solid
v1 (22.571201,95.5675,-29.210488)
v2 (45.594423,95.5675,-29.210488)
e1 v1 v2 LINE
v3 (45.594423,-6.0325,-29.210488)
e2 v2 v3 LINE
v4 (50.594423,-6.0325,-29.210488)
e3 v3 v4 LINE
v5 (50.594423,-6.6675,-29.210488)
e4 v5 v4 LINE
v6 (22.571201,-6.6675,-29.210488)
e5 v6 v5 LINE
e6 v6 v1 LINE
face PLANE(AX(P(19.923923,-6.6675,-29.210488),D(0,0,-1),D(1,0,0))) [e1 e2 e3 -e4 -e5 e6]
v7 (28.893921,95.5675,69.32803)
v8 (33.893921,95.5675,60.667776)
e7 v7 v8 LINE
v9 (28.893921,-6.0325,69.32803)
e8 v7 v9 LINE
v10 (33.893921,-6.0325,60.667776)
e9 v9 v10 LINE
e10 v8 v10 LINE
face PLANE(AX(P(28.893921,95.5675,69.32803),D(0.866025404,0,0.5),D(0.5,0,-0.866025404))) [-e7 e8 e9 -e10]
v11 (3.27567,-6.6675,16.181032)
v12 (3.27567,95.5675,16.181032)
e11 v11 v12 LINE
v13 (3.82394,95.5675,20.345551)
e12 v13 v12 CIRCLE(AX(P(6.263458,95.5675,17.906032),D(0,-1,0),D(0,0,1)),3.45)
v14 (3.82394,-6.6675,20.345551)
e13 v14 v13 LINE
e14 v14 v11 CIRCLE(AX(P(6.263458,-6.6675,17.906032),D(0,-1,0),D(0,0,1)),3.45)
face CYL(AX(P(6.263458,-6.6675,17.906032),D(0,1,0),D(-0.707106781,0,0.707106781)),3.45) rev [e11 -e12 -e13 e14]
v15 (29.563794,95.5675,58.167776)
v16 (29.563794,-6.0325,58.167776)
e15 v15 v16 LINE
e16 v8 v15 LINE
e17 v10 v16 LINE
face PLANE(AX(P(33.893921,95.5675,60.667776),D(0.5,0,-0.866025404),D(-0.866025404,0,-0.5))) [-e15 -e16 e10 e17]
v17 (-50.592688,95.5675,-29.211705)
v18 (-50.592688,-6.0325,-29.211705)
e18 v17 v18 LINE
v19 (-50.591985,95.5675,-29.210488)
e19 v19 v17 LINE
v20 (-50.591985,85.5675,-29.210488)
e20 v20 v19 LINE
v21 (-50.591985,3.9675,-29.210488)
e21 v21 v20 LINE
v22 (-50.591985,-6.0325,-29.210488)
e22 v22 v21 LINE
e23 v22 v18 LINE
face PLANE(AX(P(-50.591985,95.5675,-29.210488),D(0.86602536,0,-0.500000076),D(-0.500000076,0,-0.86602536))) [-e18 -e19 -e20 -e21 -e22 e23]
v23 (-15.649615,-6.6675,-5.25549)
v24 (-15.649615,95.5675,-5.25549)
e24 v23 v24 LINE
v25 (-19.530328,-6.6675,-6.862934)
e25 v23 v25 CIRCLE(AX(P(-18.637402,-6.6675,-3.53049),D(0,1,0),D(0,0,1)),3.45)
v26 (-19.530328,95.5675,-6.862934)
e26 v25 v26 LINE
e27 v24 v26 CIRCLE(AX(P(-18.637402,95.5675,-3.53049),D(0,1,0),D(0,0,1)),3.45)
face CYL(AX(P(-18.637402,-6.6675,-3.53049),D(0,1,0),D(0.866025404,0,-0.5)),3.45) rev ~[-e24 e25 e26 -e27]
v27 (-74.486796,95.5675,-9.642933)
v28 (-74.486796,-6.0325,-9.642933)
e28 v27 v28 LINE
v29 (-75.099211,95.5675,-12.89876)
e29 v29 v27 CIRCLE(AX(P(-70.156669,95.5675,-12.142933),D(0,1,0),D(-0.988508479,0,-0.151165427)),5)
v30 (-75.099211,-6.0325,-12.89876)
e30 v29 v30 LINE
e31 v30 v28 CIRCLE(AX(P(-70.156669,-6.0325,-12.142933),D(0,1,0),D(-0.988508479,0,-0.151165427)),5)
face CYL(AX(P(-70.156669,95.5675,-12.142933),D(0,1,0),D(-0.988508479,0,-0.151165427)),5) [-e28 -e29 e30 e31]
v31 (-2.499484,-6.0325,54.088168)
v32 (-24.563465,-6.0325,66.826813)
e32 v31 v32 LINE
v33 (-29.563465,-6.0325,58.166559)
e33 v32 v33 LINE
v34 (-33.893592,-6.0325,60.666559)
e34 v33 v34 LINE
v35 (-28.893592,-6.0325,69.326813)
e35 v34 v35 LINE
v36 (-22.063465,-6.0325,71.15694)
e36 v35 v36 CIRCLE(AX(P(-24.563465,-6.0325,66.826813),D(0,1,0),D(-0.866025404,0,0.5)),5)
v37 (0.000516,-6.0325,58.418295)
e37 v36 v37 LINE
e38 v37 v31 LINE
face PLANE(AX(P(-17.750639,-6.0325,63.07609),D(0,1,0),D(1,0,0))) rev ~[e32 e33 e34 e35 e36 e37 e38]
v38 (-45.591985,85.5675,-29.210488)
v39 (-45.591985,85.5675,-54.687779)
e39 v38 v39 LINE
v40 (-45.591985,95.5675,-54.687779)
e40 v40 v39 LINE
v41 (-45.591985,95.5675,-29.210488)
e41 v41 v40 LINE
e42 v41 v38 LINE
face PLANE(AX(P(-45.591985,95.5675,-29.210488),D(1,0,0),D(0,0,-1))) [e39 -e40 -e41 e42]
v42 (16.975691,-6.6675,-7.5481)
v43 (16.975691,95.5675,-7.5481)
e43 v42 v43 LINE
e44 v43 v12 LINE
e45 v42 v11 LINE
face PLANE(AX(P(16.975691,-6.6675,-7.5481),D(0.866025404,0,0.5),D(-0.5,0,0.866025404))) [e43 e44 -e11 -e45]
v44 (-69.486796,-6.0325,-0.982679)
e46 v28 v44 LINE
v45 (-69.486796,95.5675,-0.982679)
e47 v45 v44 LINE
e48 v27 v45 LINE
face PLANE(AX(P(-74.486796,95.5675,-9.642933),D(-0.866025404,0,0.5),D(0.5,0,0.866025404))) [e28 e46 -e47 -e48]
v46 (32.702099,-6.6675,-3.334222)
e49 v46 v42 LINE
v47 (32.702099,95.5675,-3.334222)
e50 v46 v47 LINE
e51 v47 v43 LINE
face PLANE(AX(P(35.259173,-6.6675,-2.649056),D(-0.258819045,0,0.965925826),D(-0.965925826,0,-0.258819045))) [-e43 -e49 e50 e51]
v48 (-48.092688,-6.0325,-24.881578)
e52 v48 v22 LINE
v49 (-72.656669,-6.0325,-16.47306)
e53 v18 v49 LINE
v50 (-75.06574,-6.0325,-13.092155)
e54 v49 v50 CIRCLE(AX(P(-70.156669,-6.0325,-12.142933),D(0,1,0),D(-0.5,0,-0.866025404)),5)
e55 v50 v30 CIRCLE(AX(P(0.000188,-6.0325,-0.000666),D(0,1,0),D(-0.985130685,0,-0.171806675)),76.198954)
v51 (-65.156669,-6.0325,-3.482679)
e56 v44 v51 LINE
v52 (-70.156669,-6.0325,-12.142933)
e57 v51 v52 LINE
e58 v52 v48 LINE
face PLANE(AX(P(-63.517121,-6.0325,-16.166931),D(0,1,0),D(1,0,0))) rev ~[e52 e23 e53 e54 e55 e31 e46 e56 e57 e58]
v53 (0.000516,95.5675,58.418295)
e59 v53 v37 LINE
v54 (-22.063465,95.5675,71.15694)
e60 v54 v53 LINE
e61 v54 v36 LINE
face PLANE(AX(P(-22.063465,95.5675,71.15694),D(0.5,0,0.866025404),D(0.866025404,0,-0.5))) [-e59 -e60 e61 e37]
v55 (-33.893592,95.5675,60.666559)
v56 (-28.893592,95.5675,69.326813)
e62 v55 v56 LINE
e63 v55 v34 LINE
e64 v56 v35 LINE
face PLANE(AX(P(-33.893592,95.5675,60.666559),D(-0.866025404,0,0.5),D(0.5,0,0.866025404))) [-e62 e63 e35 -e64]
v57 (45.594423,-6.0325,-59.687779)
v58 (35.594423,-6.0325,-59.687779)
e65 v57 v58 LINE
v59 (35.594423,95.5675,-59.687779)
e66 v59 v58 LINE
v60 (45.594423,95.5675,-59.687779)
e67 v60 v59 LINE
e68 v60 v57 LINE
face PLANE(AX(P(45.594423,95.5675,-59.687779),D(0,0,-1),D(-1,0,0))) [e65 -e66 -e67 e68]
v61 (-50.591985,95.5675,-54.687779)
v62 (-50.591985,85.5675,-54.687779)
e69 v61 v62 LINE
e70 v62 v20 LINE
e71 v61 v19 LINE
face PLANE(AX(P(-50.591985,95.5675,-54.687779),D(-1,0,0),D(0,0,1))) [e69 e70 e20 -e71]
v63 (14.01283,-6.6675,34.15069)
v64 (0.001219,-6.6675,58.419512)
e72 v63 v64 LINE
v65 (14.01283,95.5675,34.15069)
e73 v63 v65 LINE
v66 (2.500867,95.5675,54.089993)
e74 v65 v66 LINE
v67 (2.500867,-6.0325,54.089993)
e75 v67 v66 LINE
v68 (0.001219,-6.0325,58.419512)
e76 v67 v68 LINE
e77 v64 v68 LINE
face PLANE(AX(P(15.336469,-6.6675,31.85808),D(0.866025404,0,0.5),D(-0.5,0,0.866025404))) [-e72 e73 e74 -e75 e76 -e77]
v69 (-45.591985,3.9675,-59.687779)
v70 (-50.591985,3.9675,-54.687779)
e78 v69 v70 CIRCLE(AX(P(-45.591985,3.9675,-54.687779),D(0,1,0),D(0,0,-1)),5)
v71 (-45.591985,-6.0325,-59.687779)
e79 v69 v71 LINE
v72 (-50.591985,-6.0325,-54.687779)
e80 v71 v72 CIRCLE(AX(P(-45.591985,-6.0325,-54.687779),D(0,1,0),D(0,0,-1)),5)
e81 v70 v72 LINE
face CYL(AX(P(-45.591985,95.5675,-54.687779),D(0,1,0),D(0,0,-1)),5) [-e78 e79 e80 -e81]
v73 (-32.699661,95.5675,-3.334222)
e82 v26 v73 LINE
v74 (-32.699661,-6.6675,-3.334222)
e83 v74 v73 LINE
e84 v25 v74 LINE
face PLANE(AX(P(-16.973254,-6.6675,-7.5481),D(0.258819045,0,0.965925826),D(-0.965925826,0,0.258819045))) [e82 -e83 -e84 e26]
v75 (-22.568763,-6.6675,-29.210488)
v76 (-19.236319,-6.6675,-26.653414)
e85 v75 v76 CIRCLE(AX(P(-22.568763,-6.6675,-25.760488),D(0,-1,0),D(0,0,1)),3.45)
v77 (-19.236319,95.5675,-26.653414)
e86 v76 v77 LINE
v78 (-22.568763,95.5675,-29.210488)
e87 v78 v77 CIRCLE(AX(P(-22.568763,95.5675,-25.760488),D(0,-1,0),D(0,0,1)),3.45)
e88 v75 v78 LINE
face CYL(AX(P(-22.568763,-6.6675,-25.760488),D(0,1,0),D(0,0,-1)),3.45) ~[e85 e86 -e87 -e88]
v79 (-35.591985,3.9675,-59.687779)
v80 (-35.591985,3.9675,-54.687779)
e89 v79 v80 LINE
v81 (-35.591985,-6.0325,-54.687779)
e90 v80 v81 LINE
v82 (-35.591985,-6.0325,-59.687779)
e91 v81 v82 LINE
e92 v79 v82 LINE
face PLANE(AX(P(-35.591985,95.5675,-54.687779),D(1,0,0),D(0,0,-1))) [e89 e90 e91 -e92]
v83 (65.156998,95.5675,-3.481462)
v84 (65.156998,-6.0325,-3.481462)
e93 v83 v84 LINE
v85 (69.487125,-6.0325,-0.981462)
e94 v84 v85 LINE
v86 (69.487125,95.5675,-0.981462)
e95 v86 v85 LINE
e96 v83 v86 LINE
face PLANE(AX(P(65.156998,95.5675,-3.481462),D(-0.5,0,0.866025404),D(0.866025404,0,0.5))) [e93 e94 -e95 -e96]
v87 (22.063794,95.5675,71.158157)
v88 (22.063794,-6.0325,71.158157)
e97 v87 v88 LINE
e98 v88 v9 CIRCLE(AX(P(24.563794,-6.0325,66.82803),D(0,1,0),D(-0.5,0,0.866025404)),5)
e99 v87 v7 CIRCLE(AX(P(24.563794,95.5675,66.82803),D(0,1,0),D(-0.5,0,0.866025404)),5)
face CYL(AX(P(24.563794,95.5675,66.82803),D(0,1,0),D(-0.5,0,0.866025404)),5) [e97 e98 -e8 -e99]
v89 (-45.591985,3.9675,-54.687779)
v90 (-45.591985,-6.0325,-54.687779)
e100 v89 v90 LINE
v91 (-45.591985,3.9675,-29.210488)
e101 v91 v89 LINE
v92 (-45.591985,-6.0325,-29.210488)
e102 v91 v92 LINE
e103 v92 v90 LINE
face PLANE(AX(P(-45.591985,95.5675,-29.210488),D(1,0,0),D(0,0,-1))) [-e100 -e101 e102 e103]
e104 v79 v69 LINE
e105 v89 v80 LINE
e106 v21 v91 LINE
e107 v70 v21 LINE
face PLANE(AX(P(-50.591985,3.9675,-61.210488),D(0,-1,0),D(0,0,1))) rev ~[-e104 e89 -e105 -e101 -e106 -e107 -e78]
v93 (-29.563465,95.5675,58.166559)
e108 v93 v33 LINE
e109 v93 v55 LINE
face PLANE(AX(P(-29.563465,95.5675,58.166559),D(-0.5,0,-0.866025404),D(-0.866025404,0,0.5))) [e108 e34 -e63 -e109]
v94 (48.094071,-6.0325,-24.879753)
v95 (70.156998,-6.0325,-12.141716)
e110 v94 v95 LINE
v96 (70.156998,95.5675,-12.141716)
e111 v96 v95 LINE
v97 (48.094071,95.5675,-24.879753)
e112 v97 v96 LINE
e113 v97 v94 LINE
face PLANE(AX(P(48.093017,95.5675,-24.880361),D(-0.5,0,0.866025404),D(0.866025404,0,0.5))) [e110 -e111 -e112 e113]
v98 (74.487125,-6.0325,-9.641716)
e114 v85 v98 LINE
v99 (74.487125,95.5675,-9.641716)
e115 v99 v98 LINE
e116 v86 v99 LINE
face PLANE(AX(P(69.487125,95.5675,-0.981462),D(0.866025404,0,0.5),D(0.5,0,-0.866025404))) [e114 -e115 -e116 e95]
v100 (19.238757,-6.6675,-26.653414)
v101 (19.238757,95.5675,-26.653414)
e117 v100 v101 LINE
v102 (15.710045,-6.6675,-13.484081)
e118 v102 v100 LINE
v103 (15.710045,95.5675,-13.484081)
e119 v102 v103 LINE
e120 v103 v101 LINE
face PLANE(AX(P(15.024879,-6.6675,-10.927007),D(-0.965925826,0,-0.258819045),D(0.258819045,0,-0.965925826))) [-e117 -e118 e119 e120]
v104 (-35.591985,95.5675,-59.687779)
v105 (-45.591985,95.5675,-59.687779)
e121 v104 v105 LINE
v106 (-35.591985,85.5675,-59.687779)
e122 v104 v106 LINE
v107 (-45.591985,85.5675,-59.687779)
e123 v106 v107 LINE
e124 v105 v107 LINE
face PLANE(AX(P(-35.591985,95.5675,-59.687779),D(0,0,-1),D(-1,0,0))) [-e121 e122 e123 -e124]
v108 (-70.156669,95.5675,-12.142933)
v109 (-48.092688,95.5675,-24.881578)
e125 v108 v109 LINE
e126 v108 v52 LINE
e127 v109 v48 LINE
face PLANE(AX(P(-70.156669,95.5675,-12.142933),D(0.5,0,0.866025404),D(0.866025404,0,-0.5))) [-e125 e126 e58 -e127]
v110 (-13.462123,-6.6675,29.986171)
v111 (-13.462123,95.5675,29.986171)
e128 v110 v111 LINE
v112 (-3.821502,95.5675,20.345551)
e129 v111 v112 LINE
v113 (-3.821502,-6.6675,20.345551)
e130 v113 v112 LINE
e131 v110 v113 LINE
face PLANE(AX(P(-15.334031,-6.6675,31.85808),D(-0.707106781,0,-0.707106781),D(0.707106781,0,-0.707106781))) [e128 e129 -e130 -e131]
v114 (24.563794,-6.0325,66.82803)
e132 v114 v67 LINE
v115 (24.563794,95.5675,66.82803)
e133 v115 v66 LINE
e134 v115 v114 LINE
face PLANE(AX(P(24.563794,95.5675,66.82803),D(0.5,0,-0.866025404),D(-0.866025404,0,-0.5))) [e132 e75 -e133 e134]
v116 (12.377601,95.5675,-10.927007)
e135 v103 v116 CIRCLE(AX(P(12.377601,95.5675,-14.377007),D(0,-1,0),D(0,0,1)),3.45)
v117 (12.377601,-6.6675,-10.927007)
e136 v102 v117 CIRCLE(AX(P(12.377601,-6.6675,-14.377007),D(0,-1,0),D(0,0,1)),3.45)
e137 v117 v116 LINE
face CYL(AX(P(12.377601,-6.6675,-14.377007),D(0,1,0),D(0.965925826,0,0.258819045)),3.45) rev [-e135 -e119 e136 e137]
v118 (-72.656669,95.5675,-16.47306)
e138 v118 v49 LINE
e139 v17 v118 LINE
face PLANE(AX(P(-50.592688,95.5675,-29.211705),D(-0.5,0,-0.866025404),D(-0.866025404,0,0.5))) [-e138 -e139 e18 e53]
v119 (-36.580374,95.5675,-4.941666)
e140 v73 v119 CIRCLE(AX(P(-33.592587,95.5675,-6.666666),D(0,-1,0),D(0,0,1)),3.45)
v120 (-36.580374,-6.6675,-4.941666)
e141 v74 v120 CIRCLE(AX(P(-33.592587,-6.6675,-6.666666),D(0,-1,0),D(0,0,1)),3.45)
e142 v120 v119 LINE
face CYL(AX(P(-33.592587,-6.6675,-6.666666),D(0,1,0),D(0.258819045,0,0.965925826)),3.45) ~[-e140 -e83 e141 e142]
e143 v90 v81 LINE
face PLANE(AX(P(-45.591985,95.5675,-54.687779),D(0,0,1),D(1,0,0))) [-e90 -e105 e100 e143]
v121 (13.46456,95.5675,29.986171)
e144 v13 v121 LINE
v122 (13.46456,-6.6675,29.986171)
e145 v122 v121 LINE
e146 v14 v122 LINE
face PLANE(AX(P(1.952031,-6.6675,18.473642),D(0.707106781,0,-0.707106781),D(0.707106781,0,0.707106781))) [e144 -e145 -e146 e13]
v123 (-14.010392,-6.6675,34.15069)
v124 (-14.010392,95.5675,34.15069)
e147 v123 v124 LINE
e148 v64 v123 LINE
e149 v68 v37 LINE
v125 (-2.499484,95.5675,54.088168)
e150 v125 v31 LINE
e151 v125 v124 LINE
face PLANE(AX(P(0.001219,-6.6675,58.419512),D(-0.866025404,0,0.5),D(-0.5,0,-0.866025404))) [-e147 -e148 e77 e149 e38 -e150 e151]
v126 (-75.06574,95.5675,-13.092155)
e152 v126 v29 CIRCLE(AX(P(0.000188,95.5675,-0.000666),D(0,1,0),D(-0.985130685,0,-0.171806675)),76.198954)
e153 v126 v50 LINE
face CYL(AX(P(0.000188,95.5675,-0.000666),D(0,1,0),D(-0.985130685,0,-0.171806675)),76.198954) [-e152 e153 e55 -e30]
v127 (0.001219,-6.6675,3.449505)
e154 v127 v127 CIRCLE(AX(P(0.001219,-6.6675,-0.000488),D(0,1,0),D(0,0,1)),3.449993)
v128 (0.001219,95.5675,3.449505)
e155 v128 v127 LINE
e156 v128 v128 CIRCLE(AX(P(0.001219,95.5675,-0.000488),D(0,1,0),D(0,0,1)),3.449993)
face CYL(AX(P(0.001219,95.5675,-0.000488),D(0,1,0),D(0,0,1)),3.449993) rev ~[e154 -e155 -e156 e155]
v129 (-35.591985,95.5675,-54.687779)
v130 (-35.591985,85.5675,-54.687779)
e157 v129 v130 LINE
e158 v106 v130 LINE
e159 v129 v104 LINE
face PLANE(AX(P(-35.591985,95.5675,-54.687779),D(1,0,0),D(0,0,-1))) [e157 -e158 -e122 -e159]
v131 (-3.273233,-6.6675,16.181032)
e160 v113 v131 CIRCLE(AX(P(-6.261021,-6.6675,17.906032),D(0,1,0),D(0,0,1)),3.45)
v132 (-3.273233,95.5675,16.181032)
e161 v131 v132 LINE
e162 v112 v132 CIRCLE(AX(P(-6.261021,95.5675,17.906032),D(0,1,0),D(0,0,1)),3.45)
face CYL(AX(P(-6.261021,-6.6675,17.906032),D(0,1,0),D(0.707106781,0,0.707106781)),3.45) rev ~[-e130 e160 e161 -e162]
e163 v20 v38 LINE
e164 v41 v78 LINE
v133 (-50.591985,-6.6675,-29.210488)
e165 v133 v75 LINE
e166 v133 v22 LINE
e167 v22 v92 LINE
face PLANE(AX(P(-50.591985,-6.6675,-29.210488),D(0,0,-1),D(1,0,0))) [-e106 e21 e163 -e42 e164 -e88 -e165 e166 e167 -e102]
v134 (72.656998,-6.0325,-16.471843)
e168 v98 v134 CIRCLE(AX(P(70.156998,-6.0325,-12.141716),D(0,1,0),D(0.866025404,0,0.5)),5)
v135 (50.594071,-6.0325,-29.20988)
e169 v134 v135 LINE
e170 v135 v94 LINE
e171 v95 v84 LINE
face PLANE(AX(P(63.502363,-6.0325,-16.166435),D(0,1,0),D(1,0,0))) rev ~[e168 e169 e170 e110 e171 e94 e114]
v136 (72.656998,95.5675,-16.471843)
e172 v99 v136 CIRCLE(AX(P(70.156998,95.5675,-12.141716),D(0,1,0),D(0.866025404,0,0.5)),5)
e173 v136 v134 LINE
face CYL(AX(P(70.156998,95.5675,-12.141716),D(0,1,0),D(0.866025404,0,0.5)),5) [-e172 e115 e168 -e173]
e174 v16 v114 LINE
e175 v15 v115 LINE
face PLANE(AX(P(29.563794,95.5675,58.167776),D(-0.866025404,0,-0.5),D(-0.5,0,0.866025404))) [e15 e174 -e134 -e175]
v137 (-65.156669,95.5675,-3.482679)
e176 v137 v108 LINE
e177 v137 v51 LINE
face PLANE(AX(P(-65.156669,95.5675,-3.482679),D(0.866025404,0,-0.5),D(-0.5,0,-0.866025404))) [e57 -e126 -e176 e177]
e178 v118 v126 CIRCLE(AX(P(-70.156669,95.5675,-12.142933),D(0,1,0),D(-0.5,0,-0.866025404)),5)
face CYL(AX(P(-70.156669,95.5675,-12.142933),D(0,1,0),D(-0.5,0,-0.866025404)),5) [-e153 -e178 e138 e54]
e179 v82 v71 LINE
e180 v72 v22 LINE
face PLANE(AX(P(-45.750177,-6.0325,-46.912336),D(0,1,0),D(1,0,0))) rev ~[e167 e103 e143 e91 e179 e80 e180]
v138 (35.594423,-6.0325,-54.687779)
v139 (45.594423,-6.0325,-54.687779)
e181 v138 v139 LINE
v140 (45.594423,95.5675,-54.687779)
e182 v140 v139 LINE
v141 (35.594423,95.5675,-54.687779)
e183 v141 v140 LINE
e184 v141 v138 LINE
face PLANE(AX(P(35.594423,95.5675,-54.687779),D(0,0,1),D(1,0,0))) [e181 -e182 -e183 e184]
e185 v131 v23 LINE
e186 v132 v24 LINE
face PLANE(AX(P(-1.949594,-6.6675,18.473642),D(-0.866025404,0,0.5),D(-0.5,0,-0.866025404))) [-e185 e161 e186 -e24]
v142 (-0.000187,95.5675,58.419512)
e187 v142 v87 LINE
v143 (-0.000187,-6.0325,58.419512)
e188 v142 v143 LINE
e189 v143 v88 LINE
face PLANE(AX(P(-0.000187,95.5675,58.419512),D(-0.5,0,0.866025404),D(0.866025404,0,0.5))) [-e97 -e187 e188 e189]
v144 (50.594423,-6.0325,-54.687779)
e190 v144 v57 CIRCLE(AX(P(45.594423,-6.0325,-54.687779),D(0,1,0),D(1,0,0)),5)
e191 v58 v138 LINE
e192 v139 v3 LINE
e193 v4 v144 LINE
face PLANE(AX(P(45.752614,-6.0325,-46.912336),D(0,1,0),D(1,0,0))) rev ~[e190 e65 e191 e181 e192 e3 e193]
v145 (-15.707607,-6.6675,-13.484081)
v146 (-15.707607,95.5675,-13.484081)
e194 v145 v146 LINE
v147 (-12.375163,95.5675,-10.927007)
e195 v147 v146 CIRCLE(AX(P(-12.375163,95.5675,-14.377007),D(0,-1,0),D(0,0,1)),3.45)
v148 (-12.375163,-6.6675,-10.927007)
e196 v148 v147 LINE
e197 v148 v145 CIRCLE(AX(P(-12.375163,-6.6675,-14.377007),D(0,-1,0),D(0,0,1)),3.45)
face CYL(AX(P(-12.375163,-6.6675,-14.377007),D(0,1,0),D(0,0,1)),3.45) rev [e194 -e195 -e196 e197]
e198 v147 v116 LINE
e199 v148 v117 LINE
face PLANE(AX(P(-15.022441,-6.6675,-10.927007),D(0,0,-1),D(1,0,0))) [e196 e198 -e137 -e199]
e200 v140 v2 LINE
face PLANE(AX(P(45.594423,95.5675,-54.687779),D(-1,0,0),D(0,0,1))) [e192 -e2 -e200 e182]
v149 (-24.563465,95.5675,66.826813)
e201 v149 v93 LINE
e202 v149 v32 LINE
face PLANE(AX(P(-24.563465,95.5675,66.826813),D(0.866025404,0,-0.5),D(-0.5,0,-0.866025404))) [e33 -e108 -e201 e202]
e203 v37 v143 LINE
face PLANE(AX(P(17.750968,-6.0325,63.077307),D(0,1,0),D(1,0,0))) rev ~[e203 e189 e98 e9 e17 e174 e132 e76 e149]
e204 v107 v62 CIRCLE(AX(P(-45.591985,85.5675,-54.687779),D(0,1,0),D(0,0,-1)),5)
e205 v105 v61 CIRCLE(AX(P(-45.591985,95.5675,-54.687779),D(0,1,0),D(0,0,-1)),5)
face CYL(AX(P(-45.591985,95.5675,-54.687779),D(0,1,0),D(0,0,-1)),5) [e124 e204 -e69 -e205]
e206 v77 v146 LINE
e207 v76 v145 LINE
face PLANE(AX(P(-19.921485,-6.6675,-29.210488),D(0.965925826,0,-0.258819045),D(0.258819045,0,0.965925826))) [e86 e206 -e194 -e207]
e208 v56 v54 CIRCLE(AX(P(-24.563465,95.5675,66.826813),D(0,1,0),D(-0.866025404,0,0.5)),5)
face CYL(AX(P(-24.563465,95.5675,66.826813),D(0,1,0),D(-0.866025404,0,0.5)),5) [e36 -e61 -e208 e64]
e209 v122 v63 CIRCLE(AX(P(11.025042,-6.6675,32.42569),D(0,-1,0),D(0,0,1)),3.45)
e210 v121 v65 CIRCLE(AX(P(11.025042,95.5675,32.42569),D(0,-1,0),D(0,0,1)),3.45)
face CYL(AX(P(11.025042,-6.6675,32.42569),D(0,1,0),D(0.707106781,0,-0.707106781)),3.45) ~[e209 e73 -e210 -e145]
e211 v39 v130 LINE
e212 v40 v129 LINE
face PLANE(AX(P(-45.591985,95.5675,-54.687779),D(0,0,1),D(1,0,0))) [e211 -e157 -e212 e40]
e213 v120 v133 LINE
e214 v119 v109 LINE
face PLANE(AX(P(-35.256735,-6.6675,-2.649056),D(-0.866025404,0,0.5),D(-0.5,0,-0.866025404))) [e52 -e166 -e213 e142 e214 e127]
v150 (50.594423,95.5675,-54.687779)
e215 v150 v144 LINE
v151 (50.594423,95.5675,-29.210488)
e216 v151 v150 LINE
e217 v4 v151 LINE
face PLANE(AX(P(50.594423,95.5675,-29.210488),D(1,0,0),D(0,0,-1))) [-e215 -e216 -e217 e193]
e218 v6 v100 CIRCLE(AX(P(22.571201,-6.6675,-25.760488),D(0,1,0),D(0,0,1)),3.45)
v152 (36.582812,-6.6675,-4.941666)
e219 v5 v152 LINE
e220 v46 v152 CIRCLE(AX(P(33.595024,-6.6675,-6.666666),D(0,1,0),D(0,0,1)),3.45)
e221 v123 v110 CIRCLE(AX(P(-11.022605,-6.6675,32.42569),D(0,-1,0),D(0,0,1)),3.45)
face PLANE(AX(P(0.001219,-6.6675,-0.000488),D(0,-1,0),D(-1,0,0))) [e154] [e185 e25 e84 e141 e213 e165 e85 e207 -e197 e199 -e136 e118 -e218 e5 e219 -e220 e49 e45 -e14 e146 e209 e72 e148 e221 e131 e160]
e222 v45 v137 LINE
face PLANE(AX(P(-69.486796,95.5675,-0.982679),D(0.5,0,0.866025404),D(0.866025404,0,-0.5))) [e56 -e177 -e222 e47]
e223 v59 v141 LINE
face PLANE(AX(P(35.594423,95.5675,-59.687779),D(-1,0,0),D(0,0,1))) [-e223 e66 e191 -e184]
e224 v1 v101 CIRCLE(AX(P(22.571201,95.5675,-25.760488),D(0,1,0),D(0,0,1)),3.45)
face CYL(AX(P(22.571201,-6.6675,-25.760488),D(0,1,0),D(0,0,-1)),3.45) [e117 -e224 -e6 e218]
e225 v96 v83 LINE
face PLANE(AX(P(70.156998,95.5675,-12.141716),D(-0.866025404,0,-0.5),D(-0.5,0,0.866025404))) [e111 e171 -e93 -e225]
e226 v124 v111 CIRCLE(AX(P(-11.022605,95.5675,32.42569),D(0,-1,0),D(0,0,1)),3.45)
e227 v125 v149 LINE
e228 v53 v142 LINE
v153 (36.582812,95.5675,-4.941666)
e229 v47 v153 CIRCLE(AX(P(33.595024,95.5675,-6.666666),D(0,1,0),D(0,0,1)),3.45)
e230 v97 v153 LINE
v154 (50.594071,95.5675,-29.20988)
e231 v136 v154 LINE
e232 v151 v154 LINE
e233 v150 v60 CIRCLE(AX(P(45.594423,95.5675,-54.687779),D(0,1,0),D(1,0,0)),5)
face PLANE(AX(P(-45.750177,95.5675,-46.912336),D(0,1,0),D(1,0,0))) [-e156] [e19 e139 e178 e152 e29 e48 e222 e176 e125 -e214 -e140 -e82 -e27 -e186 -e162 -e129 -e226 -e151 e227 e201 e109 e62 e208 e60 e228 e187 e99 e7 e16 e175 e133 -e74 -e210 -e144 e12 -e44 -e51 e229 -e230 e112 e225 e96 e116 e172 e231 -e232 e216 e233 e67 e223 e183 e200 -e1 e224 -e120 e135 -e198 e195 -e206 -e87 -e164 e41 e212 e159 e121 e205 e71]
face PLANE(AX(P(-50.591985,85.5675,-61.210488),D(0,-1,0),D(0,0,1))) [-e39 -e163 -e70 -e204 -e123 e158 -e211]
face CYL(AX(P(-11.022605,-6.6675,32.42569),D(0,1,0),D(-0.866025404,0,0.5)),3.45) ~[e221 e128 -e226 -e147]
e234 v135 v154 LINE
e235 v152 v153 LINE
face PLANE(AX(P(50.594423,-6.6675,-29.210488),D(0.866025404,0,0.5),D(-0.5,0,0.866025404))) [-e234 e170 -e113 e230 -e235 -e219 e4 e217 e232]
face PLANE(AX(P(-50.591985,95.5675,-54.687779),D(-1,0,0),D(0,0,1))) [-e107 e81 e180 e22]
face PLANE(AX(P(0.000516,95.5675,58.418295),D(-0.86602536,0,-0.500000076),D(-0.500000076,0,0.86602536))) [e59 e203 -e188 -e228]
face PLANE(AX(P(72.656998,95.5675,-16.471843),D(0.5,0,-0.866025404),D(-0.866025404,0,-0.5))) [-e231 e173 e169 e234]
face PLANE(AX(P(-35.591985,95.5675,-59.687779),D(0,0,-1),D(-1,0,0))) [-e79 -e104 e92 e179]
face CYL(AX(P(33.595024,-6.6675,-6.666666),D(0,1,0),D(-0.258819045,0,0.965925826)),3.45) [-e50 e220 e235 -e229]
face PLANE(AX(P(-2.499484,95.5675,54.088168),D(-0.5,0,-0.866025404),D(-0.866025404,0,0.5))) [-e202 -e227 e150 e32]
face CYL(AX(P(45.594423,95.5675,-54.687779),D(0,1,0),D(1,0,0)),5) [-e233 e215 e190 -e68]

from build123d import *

# Parameters (mm, degrees)
SALIENTE_EXTRUIR1_DEPTH = 88.9
CROQUIS4_R              = 2.999994
CORTAR_EXTRUIR1_DEPTH   = 112.44204772
REDONDEO6_R             = 3
REDONDEO7_R             = 3
ESCALA2_SCALE           = 1.15
SALIENTE_EXTRUIR3_DEPTH = 101.6
CROQUIS10_W             = 32
CROQUIS10_H             = 81.6
CORTAR_EXTRUIR2_DEPTH   = 15


with BuildPart() as part:
    # Croquis1 → Saliente-Extruir1 (new body)
    with BuildSketch(Plane(origin=(0, 0, 0), x_dir=(1, 0, 0), z_dir=(0, 1, 0))):
        Polygon((1.696358741, -16.064461222), (13.335, -27.703102481), (0, -50.8), (-13.335, -27.703102481), (-1.696358741, -16.064461222), (-14.760410887, 6.563140847), (-30.659090512, 2.303102481), (-43.994090512, 25.4), (-17.324090512, 25.4), (-13.064052146, 9.501320374), (13.064052146, 9.501320374), (17.324090512, 25.4), (43.994090512, 25.4), (30.659090512, 2.303102481), (14.760410887, 6.563140847), align=None)
    extrude(amount=SALIENTE_EXTRUIR1_DEPTH)

    # Croquis4 → Cortar-Extruir1 (cut, through all)
    with BuildSketch(Plane(origin=(0, 88.9, 0), x_dir=(1, 0, 0), z_dir=(0, 1, 0))):
        with Locations(Location((0, 0, 0), (0, 0, 270))):
            Circle(CROQUIS4_R)
    extrude(amount=-CORTAR_EXTRUIR1_DEPTH, mode=Mode.SUBTRACT)

    # Redondeo6
    redondeo6_edges = [part.edges().sort_by_distance(p)[0] for p in [
        (-1.696358741, 44.45, 16.064461222),
        (-14.760410887, 44.45, -6.563140847),
        (-13.064052146, 44.45, -9.501320374),
        (13.064052146, 44.45, -9.501320374),
        (1.696358741, 44.45, 16.064461222),
    ]]
    fillet(redondeo6_edges, radius=REDONDEO6_R)

    # Redondeo7
    redondeo7_edges = [part.edges().sort_by_distance(p)[0] for p in [
        (-13.335, 44.45, 27.703102481),
        (-30.659090512, 44.45, -2.303102481),
        (-17.324090512, 44.45, -25.4),
        (17.324090512, 44.45, -25.4),
        (30.659090512, 44.45, -2.303102481),
        (13.335, 44.45, 27.703102481),
    ]]
    fillet(redondeo7_edges, radius=REDONDEO7_R)


with BuildPart() as part_1:
    # Escala2: scaled about (-0.008124988, 44.45, 0.003254237)
    add(part.part.scale(ESCALA2_SCALE).moved(Location((0.001218748, -6.6675, -0.000488136))))

    # Croquis8 → Saliente-Extruir3 (add)
    with BuildSketch(Plane(origin=(0, 95.5675, 0), x_dir=(1, 0, 0), z_dir=(0, 1, 0))):
        with BuildLine():
            Line((-50.591985341, 54.687778623), (-50.591985341, 29.210488136))
            Line((-50.591985341, 29.210488136), (-45.591985341, 29.210488136))
            Line((-45.591985341, 29.210488136), (-45.591985341, 54.687778623))
            Line((-45.591985341, 54.687778623), (-35.591985341, 54.687778623))
            Line((-35.591985341, 54.687778623), (-35.591985341, 59.687778623))
            Line((-35.591985341, 59.687778623), (-45.591985341, 59.687778623))
            ThreePointArc((-45.591985341, 59.687778623), (-49.127519247, 58.223312529), (-50.591985341, 54.687778623))
        make_face()
        with BuildLine():
            Line((-48.092688033, 24.881578215), (-50.591985341, 29.210488136))
            Line((-50.591985341, 29.210488136), (-50.592688033, 29.211705234))
            Line((-50.592688033, 29.211705234), (-72.656668815, 16.47305999))
            ThreePointArc((-72.656668815, 16.47305999), (-74.228672243, 15.044447763), (-75.065739696, 13.092155328))
            ThreePointArc((-75.065739696, 13.092155328), (-75.082537721, 12.995468496), (-75.099211211, 12.89876011))
            ThreePointArc((-75.099211211, 12.89876011), (-75.070496458, 11.218650606), (-74.486795834, 9.642932971))
            Line((-74.486795834, 9.642932971), (-69.486795834, 0.982678934))
            Line((-69.486795834, 0.982678934), (-65.156668815, 3.482678934))
            Line((-65.156668815, 3.482678934), (-70.156668815, 12.142932971))
            Line((-70.156668815, 12.142932971), (-48.092688033, 24.881578215))
        make_face()
        with BuildLine():
            Line((72.656998235, 16.471842892), (50.593017453, 29.210488136))
            Line((50.593017453, 29.210488136), (48.093017453, 24.880361117))
            Line((48.093017453, 24.880361117), (70.156998235, 12.141715873))
            Line((70.156998235, 12.141715873), (65.156998235, 3.481461835))
            Line((65.156998235, 3.481461835), (69.487125254, 0.981461835))
            Line((69.487125254, 0.981461835), (74.487125254, 9.641715873))
            ThreePointArc((74.487125254, 9.641715873), (74.986627366, 13.435811098), (72.656998235, 16.471842892))
        make_face()
        with BuildLine():
            ThreePointArc((50.594422837, 54.687778623), (49.129956743, 58.223312529), (45.594422837, 59.687778623))
            Line((45.594422837, 59.687778623), (35.594422837, 59.687778623))
            Line((35.594422837, 59.687778623), (35.594422837, 54.687778623))
            Line((35.594422837, 54.687778623), (45.594422837, 54.687778623))
            Line((45.594422837, 54.687778623), (45.594422837, 29.210488136))
            Line((45.594422837, 29.210488136), (50.593017453, 29.210488136))
            Line((50.593017453, 29.210488136), (50.594422837, 29.210488136))
            Line((50.594422837, 29.210488136), (50.594422837, 54.687778623))
        make_face()
        with BuildLine():
            Line((2.499813364, -54.089384846), (0.000516056, -58.418294766))
            Line((0.000516056, -58.418294766), (-0.000186636, -58.419511864))
            Line((-0.000186636, -58.419511864), (22.063794146, -71.158157108))
            ThreePointArc((22.063794146, -71.158157108), (25.857889371, -71.657659221), (28.893921165, -69.328030089))
            Line((28.893921165, -69.328030089), (33.893921165, -60.667776052))
            Line((33.893921165, -60.667776052), (29.563794146, -58.167776052))
            Line((29.563794146, -58.167776052), (24.563794146, -66.828030089))
            Line((24.563794146, -66.828030089), (2.499813364, -54.089384846))
        make_face()
        with BuildLine():
            Line((-22.063464726, -71.15694001), (0.000516056, -58.418294766))
            Line((0.000516056, -58.418294766), (-2.499483944, -54.088167747))
            Line((-2.499483944, -54.088167747), (-24.563464726, -66.826812991))
            Line((-24.563464726, -66.826812991), (-29.563464726, -58.166558953))
            Line((-29.563464726, -58.166558953), (-33.893591745, -60.666558953))
            Line((-33.893591745, -60.666558953), (-28.893591745, -69.326812991))
            ThreePointArc((-28.893591745, -69.326812991), (-25.857559952, -71.656442122), (-22.063464726, -71.15694001))
        make_face()
    extrude(amount=-SALIENTE_EXTRUIR3_DEPTH)

    # Croquis10 → Cortar-Extruir2 (cut)
    with BuildSketch(Plane.ZY.offset(50.591985341)):
        with Locations((-45.210488136, 44.7675)):
            Rectangle(CROQUIS10_W, CROQUIS10_H)
    extrude(amount=-CORTAR_EXTRUIR2_DEPTH, mode=Mode.SUBTRACT)


solid = part_1.part
